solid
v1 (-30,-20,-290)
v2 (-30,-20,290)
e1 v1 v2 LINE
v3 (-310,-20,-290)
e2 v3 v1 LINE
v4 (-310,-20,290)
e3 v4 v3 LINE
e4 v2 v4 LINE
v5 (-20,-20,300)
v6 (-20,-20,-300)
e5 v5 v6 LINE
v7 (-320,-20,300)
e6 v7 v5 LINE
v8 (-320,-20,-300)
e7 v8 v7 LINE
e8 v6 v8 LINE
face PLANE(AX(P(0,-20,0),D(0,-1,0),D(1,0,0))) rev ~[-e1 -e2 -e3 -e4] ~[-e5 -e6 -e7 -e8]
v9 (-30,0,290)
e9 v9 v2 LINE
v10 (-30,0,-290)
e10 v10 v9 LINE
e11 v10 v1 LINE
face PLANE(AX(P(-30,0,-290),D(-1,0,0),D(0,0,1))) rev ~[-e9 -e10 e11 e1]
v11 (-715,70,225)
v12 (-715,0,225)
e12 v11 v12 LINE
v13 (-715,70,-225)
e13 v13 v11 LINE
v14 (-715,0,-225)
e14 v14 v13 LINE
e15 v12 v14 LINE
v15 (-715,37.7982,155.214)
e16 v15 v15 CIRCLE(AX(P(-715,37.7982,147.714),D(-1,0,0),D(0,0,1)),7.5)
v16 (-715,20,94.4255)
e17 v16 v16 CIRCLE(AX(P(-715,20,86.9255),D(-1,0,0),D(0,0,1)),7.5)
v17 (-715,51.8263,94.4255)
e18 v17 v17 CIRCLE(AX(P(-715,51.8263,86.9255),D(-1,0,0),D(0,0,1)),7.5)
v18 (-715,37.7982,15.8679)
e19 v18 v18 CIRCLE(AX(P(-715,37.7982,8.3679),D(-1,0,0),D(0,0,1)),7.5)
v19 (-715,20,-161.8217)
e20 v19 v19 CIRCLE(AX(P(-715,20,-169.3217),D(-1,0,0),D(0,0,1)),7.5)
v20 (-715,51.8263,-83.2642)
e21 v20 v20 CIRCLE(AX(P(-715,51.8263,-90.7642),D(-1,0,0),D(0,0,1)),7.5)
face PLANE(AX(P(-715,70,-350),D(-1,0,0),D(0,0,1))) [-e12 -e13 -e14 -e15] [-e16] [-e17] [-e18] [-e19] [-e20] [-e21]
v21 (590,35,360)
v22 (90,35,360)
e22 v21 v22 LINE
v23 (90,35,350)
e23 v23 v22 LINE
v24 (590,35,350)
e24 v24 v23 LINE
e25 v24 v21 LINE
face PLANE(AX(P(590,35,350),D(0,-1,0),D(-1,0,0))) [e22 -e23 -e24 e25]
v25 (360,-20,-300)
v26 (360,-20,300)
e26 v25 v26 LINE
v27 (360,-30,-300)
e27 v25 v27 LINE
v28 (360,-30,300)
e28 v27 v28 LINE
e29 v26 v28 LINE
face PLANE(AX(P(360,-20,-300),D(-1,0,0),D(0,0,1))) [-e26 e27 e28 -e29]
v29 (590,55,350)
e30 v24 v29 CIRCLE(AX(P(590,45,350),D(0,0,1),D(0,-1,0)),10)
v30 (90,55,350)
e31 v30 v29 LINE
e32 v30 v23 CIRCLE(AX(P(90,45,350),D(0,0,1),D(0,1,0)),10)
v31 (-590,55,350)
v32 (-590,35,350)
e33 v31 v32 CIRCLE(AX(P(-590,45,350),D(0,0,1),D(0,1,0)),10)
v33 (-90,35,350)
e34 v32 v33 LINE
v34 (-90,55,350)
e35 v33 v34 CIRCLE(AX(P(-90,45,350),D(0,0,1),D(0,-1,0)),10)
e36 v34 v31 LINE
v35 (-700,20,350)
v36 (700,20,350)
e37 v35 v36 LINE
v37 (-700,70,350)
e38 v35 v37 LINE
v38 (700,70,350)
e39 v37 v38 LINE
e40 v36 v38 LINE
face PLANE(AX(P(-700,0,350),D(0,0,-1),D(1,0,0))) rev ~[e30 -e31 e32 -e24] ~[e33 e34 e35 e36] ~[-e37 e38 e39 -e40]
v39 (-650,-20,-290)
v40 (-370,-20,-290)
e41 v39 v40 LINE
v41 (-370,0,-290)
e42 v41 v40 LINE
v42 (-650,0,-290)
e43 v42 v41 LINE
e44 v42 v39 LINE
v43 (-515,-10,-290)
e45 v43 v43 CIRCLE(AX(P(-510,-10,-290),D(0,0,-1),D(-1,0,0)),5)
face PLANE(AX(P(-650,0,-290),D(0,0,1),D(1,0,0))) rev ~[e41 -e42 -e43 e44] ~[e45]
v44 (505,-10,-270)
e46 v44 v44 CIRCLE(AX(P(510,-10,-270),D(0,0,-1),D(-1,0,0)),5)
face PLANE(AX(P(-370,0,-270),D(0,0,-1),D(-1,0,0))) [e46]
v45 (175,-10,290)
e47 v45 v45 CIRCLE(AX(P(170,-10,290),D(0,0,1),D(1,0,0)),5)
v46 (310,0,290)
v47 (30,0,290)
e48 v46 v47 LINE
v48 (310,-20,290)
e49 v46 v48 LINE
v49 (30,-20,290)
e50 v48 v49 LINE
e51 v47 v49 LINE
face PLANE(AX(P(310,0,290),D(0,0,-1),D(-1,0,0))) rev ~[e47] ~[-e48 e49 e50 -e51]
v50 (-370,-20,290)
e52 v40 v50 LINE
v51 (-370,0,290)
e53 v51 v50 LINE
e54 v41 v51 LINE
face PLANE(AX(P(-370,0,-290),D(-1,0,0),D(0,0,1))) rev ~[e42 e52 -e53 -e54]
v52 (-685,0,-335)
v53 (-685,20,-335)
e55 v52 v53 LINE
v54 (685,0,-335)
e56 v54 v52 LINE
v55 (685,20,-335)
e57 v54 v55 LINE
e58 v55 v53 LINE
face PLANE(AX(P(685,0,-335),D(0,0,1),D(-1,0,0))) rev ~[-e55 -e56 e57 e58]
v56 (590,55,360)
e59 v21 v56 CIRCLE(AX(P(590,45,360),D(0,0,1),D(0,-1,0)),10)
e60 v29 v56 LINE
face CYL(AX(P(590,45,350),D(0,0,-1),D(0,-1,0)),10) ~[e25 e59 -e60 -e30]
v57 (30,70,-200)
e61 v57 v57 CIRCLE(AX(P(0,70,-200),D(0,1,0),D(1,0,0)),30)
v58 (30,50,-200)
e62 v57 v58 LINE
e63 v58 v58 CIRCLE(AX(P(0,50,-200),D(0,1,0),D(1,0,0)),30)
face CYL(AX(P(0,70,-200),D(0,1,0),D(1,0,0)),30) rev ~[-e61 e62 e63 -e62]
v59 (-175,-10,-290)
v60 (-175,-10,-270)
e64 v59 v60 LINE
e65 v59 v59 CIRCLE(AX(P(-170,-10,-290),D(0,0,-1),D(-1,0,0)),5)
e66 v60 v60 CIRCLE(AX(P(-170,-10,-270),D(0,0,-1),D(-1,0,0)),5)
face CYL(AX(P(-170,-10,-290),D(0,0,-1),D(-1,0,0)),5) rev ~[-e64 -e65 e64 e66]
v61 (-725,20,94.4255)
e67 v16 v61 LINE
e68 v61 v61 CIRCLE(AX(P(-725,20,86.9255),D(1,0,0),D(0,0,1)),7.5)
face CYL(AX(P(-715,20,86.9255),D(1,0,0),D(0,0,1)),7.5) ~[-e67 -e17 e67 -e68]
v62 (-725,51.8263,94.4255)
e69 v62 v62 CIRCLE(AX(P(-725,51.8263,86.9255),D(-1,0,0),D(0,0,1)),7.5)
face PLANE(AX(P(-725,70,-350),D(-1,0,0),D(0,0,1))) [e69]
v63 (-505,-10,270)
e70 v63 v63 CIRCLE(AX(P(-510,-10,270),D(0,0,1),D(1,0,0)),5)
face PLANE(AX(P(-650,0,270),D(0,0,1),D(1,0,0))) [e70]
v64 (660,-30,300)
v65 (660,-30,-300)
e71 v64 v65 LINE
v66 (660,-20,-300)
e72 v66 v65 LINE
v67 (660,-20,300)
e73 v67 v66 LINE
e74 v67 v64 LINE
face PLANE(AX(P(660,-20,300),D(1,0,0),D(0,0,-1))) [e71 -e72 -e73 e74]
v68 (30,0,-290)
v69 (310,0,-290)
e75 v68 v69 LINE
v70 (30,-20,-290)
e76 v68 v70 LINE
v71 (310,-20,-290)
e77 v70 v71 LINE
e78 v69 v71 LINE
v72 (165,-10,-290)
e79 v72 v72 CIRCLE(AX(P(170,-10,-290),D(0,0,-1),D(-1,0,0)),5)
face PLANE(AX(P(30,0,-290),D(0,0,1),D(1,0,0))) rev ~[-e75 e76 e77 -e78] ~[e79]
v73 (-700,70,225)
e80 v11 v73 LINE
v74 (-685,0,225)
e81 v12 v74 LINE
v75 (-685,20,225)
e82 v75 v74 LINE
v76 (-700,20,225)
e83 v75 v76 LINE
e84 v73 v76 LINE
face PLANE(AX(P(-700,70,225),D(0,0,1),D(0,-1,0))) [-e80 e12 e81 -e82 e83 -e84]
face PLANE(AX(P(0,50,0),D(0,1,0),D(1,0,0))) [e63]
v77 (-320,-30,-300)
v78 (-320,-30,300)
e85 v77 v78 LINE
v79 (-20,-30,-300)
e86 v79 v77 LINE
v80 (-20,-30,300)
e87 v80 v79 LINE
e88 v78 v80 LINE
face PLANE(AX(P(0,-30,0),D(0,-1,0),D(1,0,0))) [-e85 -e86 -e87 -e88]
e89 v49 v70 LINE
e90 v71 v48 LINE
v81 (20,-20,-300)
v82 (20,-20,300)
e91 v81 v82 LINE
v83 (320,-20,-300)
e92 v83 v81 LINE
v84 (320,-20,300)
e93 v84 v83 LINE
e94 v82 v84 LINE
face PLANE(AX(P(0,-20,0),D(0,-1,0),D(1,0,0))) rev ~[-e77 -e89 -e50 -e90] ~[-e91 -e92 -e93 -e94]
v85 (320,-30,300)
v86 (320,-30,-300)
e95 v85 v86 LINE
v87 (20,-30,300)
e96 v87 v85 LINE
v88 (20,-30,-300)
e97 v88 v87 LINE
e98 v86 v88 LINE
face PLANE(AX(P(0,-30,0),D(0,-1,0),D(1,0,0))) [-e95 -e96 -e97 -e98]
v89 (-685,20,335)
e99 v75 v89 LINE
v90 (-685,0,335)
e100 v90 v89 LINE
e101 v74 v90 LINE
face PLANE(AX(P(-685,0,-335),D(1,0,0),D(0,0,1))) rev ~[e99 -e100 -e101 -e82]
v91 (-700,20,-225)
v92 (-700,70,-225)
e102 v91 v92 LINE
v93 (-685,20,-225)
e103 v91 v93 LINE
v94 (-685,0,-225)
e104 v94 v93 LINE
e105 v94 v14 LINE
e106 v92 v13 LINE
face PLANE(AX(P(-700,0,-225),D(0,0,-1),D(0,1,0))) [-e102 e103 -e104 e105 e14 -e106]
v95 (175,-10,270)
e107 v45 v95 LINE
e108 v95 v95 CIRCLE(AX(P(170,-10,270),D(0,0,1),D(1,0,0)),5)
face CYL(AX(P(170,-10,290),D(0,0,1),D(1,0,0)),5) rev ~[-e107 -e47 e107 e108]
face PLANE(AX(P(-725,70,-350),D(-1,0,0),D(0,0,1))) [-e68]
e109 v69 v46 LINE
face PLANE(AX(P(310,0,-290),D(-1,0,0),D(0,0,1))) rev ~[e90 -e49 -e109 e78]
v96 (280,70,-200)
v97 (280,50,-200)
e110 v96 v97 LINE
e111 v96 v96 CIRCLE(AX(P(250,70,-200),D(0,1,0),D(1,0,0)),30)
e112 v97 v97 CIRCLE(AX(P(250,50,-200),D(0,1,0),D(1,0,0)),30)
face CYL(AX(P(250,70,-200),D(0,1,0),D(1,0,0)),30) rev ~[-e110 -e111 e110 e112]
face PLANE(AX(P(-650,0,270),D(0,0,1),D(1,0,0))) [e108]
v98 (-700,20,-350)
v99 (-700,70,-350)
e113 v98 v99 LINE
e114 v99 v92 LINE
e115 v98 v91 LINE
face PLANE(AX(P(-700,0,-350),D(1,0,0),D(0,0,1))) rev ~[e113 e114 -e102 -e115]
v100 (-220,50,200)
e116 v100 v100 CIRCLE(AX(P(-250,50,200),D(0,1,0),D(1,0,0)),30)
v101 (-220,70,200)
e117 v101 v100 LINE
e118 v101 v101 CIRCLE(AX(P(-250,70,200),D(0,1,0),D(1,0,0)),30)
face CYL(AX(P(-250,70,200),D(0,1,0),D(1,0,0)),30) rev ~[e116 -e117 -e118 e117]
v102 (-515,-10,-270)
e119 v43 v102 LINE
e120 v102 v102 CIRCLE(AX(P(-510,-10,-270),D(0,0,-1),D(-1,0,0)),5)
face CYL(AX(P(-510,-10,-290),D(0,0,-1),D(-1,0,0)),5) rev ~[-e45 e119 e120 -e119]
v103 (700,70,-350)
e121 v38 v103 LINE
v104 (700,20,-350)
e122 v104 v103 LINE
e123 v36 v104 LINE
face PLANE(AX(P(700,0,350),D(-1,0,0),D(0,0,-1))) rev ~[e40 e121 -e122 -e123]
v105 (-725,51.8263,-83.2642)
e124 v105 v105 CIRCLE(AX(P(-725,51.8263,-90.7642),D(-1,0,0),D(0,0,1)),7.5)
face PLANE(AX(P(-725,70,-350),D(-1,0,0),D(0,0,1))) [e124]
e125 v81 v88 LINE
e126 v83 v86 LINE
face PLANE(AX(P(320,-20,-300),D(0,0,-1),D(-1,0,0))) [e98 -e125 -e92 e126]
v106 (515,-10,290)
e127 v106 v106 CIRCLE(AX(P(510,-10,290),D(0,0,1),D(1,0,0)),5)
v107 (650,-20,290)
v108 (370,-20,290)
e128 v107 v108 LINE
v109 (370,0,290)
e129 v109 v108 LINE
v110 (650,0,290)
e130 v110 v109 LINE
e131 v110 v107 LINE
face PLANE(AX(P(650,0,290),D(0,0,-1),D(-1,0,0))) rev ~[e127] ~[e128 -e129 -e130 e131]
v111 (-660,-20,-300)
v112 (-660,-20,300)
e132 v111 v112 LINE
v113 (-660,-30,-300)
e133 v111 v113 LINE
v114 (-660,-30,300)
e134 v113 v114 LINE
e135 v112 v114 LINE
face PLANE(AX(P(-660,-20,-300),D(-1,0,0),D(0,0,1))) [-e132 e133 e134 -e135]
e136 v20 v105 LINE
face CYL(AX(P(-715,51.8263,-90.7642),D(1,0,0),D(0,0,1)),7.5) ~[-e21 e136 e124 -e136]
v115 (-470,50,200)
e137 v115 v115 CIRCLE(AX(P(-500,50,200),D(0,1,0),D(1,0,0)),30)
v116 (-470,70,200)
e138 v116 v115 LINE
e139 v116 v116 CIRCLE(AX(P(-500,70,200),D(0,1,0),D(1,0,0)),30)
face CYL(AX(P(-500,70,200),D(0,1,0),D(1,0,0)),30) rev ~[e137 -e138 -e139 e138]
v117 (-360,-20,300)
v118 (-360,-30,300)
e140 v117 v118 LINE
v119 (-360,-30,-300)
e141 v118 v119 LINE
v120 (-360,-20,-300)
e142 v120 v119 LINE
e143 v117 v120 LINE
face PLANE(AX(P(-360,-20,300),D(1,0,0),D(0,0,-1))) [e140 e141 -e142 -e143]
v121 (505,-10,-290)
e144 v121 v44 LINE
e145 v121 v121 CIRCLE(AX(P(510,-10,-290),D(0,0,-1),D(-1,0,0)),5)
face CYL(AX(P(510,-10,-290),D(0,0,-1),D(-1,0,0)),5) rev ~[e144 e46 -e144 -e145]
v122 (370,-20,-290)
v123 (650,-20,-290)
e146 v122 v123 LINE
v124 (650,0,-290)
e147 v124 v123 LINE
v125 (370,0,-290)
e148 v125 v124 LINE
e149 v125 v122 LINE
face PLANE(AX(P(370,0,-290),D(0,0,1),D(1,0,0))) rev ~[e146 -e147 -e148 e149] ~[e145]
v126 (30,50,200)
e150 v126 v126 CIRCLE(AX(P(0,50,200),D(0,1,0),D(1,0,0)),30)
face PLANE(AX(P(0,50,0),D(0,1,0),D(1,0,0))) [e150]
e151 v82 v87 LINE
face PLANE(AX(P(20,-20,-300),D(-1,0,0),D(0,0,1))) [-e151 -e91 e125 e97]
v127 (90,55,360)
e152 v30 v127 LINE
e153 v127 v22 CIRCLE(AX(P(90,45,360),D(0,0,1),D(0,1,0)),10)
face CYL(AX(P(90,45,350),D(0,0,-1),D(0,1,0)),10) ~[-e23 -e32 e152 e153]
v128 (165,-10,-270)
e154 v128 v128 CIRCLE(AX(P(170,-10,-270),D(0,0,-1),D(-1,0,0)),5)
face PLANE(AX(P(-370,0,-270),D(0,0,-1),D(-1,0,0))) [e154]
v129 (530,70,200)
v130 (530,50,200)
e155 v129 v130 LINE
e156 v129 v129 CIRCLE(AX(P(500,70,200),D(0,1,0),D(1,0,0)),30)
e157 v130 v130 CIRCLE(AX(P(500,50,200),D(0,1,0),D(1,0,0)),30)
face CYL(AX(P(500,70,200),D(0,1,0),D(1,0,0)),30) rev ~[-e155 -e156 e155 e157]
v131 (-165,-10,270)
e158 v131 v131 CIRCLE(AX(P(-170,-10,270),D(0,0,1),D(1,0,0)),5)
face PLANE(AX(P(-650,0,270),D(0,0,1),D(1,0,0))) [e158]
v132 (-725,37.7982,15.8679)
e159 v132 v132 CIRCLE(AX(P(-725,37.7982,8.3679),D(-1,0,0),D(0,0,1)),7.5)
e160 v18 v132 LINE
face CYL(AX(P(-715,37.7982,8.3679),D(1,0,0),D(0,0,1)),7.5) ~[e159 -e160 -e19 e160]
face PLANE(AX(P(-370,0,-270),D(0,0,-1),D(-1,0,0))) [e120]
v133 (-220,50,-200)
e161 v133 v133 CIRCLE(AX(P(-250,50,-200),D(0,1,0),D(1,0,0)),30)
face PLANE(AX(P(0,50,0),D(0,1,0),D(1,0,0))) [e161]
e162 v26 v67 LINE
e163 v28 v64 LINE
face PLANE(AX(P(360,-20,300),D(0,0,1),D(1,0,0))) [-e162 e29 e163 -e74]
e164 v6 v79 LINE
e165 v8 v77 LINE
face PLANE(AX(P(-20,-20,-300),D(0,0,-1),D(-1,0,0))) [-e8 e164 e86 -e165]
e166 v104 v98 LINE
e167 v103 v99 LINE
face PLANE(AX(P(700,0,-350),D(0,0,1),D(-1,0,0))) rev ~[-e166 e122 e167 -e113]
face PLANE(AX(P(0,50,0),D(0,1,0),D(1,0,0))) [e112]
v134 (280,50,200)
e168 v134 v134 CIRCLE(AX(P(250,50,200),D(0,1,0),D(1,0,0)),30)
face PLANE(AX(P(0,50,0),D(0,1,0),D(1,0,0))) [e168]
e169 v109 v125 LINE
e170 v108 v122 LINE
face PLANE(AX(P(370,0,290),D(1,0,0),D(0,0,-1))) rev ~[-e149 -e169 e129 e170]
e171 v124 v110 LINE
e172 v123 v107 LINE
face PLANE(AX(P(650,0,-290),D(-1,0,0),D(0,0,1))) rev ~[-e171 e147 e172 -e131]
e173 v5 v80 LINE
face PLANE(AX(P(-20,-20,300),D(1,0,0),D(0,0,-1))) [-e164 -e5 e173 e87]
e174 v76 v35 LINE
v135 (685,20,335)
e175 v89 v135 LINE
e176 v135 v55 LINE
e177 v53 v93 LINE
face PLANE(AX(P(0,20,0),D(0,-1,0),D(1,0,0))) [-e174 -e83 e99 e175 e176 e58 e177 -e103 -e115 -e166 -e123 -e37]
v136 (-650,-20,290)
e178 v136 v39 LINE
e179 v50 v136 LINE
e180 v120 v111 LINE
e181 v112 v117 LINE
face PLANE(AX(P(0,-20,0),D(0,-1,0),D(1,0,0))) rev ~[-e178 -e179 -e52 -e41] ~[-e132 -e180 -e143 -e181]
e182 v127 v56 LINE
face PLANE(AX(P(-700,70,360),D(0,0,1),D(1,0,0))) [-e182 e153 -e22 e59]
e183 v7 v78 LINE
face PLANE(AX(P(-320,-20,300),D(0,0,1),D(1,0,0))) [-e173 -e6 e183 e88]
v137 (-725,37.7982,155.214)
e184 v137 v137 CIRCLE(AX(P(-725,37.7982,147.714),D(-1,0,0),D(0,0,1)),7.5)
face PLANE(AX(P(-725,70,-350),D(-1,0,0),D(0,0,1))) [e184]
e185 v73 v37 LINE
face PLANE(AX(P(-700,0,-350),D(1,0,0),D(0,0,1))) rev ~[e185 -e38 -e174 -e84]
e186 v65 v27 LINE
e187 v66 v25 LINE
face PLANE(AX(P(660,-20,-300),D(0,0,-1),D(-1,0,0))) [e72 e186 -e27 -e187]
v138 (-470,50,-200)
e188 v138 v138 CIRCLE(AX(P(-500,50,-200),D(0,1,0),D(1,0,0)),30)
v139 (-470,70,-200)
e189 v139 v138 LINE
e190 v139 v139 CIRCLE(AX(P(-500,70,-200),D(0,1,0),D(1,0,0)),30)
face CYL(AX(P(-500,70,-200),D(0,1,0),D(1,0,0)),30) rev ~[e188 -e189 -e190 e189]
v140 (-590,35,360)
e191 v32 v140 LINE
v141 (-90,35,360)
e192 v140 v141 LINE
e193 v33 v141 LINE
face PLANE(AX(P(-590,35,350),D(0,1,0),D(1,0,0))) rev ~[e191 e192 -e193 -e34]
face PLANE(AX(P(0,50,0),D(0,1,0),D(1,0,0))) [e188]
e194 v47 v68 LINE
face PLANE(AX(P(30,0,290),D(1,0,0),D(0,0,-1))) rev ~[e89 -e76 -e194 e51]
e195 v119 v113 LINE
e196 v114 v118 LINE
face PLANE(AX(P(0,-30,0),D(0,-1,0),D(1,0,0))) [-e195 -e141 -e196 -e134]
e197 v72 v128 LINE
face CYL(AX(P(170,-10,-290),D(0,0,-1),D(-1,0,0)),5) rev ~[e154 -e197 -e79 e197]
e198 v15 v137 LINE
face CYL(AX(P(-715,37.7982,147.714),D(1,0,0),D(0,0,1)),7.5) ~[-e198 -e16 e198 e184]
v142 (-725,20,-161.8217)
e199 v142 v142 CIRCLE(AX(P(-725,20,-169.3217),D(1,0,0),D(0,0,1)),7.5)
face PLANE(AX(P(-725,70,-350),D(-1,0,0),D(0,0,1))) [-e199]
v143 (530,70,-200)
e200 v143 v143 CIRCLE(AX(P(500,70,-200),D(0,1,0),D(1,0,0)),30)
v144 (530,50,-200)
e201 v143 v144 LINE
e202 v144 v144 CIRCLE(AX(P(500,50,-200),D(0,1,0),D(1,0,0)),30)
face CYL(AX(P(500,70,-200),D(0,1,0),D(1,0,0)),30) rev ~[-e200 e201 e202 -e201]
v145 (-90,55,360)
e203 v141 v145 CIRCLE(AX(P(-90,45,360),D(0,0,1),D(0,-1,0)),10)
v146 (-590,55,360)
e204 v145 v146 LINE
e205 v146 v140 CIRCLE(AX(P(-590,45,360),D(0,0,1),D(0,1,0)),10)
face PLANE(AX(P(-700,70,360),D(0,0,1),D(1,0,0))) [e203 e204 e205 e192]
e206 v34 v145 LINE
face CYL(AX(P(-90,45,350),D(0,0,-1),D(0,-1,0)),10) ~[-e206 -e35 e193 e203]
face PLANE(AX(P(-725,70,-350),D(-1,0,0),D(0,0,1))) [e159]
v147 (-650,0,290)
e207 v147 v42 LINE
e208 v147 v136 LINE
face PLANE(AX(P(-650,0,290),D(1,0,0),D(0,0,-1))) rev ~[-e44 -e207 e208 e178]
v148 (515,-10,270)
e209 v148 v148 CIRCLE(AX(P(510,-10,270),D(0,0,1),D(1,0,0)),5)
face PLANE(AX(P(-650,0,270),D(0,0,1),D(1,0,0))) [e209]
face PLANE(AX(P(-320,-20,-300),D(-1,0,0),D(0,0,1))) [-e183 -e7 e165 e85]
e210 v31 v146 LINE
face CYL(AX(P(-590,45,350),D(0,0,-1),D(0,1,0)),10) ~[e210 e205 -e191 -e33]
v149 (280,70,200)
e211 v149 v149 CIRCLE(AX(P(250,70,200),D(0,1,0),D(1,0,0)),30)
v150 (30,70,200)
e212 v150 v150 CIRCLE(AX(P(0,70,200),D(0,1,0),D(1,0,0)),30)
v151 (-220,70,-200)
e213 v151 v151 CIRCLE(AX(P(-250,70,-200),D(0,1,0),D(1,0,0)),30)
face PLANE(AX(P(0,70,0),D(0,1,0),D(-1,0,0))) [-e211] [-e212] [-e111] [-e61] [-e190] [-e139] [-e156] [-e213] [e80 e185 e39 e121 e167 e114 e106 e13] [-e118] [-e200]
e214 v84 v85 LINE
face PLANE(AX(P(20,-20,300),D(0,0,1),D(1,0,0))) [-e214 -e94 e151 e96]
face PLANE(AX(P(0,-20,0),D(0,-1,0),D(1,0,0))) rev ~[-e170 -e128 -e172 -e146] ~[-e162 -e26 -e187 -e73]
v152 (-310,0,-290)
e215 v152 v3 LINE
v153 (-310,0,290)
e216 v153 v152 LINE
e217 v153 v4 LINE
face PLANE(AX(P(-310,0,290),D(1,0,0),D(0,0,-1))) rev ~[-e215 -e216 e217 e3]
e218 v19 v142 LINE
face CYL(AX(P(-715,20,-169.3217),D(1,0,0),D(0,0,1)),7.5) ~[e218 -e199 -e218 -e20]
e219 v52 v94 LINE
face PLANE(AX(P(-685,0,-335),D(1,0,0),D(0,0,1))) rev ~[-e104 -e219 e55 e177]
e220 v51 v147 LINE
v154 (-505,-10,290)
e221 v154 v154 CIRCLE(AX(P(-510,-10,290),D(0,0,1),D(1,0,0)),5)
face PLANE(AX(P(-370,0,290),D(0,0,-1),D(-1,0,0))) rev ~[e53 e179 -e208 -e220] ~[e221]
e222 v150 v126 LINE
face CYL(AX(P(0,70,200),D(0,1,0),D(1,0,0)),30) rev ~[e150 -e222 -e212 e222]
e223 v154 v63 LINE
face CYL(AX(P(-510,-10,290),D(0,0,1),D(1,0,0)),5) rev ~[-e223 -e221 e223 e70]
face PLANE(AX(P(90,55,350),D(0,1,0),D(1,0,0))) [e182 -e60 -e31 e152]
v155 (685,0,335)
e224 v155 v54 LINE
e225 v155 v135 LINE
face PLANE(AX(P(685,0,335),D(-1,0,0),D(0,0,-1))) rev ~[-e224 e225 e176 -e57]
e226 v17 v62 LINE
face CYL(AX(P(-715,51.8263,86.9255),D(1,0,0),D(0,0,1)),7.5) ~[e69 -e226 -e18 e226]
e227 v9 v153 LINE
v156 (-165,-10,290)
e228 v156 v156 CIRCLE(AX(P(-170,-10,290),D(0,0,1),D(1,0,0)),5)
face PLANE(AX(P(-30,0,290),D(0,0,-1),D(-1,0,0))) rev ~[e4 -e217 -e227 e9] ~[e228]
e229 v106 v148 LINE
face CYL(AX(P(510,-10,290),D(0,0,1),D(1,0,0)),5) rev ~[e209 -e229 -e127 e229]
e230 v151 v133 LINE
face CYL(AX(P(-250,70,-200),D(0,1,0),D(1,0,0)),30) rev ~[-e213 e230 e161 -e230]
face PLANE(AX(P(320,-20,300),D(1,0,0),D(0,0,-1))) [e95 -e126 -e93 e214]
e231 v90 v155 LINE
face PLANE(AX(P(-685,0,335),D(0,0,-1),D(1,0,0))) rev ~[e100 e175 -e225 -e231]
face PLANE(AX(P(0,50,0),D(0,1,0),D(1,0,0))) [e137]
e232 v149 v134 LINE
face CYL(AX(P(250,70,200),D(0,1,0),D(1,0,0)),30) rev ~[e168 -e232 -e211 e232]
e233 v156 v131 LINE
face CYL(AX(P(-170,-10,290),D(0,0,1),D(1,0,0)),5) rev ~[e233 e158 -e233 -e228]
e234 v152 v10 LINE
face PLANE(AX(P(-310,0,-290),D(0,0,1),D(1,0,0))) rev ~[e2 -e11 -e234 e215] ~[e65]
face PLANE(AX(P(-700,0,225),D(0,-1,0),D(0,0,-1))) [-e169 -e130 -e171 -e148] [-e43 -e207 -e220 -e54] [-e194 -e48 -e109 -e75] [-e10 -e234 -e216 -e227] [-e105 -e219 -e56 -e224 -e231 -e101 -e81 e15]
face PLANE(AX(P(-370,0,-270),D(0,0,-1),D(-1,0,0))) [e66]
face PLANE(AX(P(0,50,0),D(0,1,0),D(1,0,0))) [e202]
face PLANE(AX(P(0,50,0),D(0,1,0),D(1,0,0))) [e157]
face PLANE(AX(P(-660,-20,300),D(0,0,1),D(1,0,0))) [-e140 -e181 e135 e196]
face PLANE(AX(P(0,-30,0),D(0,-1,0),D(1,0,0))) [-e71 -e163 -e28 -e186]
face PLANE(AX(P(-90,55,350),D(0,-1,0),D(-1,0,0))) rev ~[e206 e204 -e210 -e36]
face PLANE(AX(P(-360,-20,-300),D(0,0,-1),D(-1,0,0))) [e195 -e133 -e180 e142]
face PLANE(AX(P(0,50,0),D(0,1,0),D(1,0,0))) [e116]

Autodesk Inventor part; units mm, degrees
ref_plane "YZ Plane" through (0, 0, 0) normal (1, 0, 0) x (0, 1, 0)
ref_plane "XZ Plane" through (0, 0, 0) normal (0, 1, 0) x (-1, 0, 0)
ref_plane "XY Plane" through (0, 0, 0) normal (0, 0, 1) x (1, 0, 0)
sketch "Sketch1" plane through (0, 0, 0) normal (0, 1, 0) x (-1, 0, 0)
  line L0 (700, 350) -> (-700, 350)
  line L1 (-700, 350) -> (-700, -350)
  line L2 (-700, -350) -> (700, -350)
  line L3 (700, -350) -> (700, 350)
  line L4 (700, 350) -> (-700, -350) construction
  line L5 (-700, 350) -> (700, -350) construction
  point P0 (0, 0)
  dimension "d0" = 1400
  dimension "d1" = 700
extrude "Extrusion1" add sketch "Sketch1" along normal blind 70
sketch "Sketch2" plane through (0, 70, 0) normal (0, 1, 0) x (1, 0, 0)
  line L0 (-500, -200) -> (500, -200) construction
  line L1 (500, -200) -> (500, 200) construction
  line L2 (500, 200) -> (-500, 200) construction
  line L3 (-500, 200) -> (-500, -200) construction
  line L4 (-500, -200) -> (500, 200) construction
  line L5 (500, -200) -> (-500, 200) construction
  circle A0 centre (500, -200) radius 30
  circle A1 centre (250, -200) radius 30
  circle A2 centre (0, -200) radius 30
  circle A3 centre (-250, -200) radius 30
  circle A4 centre (-500, -200) radius 30
  circle A5 centre (500, 200) radius 30
  circle A6 centre (250, 200) radius 30
  circle A7 centre (0, 200) radius 30
  circle A8 centre (-250, 200) radius 30
  circle A9 centre (-500, 200) radius 30
  point P0 (0, 0)
  dimension "d4" = 1000
  dimension "d5" = 400
  dimension "d6" = 60
  dimension "d9" = 250
  dimension "d12" = 400
extrude "Extrusion2" cut sketch "Sketch2" against normal blind 20
sketch "Sketch3" plane through (0, 0, 0) normal (0, -1, 0) x (1, 0, 0)
  line L0 (700, 350) -> (700, -350) projected
  line L1 (-700, 350) -> (700, 350) projected
  line L2 (-700, -350) -> (-700, 350) projected
  line L3 (700, -350) -> (-700, -350) projected
  line L4 (-685, 335) -> (685, 335)
  line L5 (685, 335) -> (685, -335)
  line L6 (685, -335) -> (-685, -335)
  line L7 (-685, -335) -> (-685, 335)
  point P0 (0, 0)
  dimension "d17" = 15
extrude "Extrusion3" cut sketch "Sketch3" against normal blind 20
sketch "Sketch4" plane through (-700, 70, -350) normal (-1, 0, 0) x (0, 0, 1)
  line L0 (125, 0) -> (575, 0)
  line L1 (575, 0) -> (575, -70)
  line L2 (575, -70) -> (125, -70)
  line L3 (125, -70) -> (125, 0)
  line L4 (125, 0) -> (575, -70) construction
  line L5 (575, 0) -> (125, -70) construction
  line L6 (0, 0) -> (700, 0) projected
  line L7 (685, -70) -> (15, -70) projected
  line L8 (350, -35) -> (350, -70) construction
  dimension "d20" = 450
extrude "Extrusion4" add sketch "Sketch4" along normal blind 15 and the other way blind 15
sketch "Sketch5" plane through (0, 0, 0) normal (0, -1, 0) x (1, 0, 0)
  line L0 (-715, 225) -> (-715, -225) construction
  line L1 (-715, 0) -> (700, 0) construction
  line L2 (700, 350) -> (700, -350) construction
  line L3 (-660, 300) -> (-360, 300) construction
  line L4 (-360, 300) -> (-360, -300) construction
  line L5 (-360, -300) -> (-660, -300) construction
  line L6 (-660, -300) -> (-660, 300) construction
  line L7 (-660, 300) -> (-360, -300) construction
  line L8 (-360, 300) -> (-660, -300) construction
  line L9 (-370, 290) -> (-650, 290)
  line L10 (-650, 290) -> (-650, -290)
  line L11 (-650, -290) -> (-370, -290)
  line L12 (-370, -290) -> (-370, 290)
  line L13 (-320, 300) -> (-20, 300) construction
  line L14 (-20, 300) -> (-20, -300) construction
  line L15 (-20, -300) -> (-320, -300) construction
  line L16 (-320, -300) -> (-320, 300) construction
  line L17 (-320, 300) -> (-20, -300) construction
  line L18 (-20, 300) -> (-320, -300) construction
  line L19 (-30, 290) -> (-310, 290)
  line L20 (-310, 290) -> (-310, -290)
  line L21 (-310, -290) -> (-30, -290)
  line L22 (-30, -290) -> (-30, 290)
  line L23 (20, 300) -> (320, 300) construction
  line L24 (320, 300) -> (320, -300) construction
  line L25 (320, -300) -> (20, -300) construction
  line L26 (20, -300) -> (20, 300) construction
  line L27 (20, 300) -> (320, -300) construction
  line L28 (320, 300) -> (20, -300) construction
  line L29 (310, 290) -> (30, 290)
  line L30 (30, 290) -> (30, -290)
  line L31 (30, -290) -> (310, -290)
  line L32 (310, -290) -> (310, 290)
  line L33 (360, 300) -> (660, 300) construction
  line L34 (660, 300) -> (660, -300) construction
  line L35 (660, -300) -> (360, -300) construction
  line L36 (360, -300) -> (360, 300) construction
  line L37 (360, 300) -> (660, -300) construction
  line L38 (660, 300) -> (360, -300) construction
  line L39 (650, 290) -> (370, 290)
  line L40 (370, 290) -> (370, -290)
  line L41 (370, -290) -> (650, -290)
  line L42 (650, -290) -> (650, 290)
  line L43 (0, 0) -> (0, 331.4551) construction
  point P0 (-510, 0)
  point P1 (-170, 0)
  point P2 (170, 0)
  point P3 (510, 0)
  dimension "d25" = 300
  dimension "d26" = 600
  dimension "d27" = 10
  dimension "d30" = 340
extrude "Extrusion5" add sketch "Sketch5" along normal blind 20
sketch "Sketch6" plane through (0, -20, 0) normal (0, -1, 0) x (1, 0, 0)
  line L0 (-650, 290) -> (-650, -290) construction
  line L1 (-650, -290) -> (-370, -290) construction
  line L2 (-370, -290) -> (-370, 290) construction
  line L3 (-370, 290) -> (-650, 290) construction
  line L4 (-310, 290) -> (-310, -290) construction
  line L5 (-310, -290) -> (-30, -290) construction
  line L6 (-30, -290) -> (-30, 290) construction
  line L7 (-30, 290) -> (-310, 290) construction
  line L8 (30, 290) -> (30, -290) construction
  line L9 (30, -290) -> (310, -290) construction
  line L10 (310, -290) -> (310, 290) construction
  line L11 (310, 290) -> (30, 290) construction
  line L12 (370, 290) -> (370, -290) construction
  line L13 (370, -290) -> (650, -290) construction
  line L14 (650, -290) -> (650, 290) construction
  line L15 (650, 290) -> (370, 290) construction
  line L16 (-360, 300) -> (-360, -300)
  line L17 (-360, -300) -> (-660, -300)
  line L18 (-660, -300) -> (-660, 300)
  line L19 (-660, 300) -> (-360, 300)
  line L20 (-320, -300) -> (-320, 300)
  line L21 (-320, 300) -> (-20, 300)
  line L22 (-20, 300) -> (-20, -300)
  line L23 (-20, -300) -> (-320, -300)
  line L24 (20, -300) -> (20, 300)
  line L25 (20, 300) -> (320, 300)
  line L26 (320, 300) -> (320, -300)
  line L27 (320, -300) -> (20, -300)
  line L28 (360, -300) -> (360, 300)
  line L29 (360, 300) -> (660, 300)
  line L30 (660, 300) -> (660, -300)
  line L31 (660, -300) -> (360, -300)
  point P0 (0, 0)
  dimension "d37" = 10
  dimension "d38" = 10
  dimension "d39" = 10
  dimension "d40" = 10
extrude "Extrusion6" add sketch "Sketch6" along normal blind 10
sketch "Sketch7" plane through (-650, 0, 290) normal (0, 0, 1) x (1, 0, 0)
  line L0 (280, -20) -> (0, -20) construction
  line L1 (140, -20) -> (140, 0) construction
  line L2 (1335, 0) -> (-35, 0) construction
  circle A0 centre (140, -10) radius 5
  circle A1 centre (480, -10) radius 5
  circle A2 centre (820, -10) radius 5
  circle A3 centre (1160, -10) radius 5
  point P0 (650, 0)
  dimension "d43" = 10
  dimension "d46" = 340
extrude "Extrusion7" cut sketch "Sketch7" against normal blind 20
sketch "Sketch8" plane through (-370, 0, -290) normal (0, 0, -1) x (-1, 0, 0)
  circle A0 centre (140, -10) radius 5 projected
  circle A1 centre (-200, -10) radius 5 projected
  circle A2 centre (-540, -10) radius 5 projected
  circle A3 centre (-880, -10) radius 5 projected
  point P0 (-370, 0)
extrude "Extrusion8" cut sketch "Sketch8" against normal blind 20
sketch "Sketch9" plane through (-715, 70, -350) normal (-1, 0, 0) x (0, 0, 1)
  line L0 (700, -50) -> (0, -50) projected
  circle A0 centre (180.6783, -50) radius 7.5
  circle A1 centre (259.2358, -18.1737) radius 7.5
  circle A2 centre (358.3679, -32.2018) radius 7.5
  circle A3 centre (497.714, -32.2018) radius 7.5
  circle A4 centre (436.9255, -50) radius 7.5
  circle A5 centre (436.9255, -18.1737) radius 7.5
  point P0 (350, -70)
  dimension "d55" = 15
  dimension "d56" = 15
  dimension "d57" = 15
  dimension "d58" = 15
  dimension "d59" = 15
  dimension "d60" = 15
extrude "Extrusion9" add sketch "Sketch9" along normal blind 10
sketch "Sketch10" plane through (-700, 70, 350) normal (0, 0, 1) x (1, 0, 0)
  line L0 (0, -50) -> (0, 0) construction
  line L1 (0, -25) -> (1400, -25) construction
  line L2 (1400, -50) -> (1400, 0) construction
  line L3 (110, -25) -> (610, -25) construction
  line L4 (110, -35) -> (610, -35)
  line L5 (610, -15) -> (110, -15)
  arc A0 (110, -15) -> (110, -35) centre (110, -25) ccw
  arc A1 (610, -35) -> (610, -15) centre (610, -25) ccw
  line L6 (700, -70) -> (700, 0) construction
  line L7 (670, 0) -> (730, 0) construction
  line L8 (1290, -35) -> (790, -35)
  line L9 (790, -15) -> (1290, -15)
  arc A2 (1290, -35) -> (1290, -15) centre (1290, -25) ccw
  arc A3 (790, -15) -> (790, -35) centre (790, -25) ccw
  point P0 (360, -25)
  dimension "d63" = 20
  dimension "d64" = 500
  dimension "d65" = 360
extrude "Extrusion10" add sketch "Sketch10" along normal blind 10
equation "\"d9\" = 0.25 * d4"
equation "\"d12\" = d5"
properties part number "SACMI PH1500 30X60 DIE SET TOP"
